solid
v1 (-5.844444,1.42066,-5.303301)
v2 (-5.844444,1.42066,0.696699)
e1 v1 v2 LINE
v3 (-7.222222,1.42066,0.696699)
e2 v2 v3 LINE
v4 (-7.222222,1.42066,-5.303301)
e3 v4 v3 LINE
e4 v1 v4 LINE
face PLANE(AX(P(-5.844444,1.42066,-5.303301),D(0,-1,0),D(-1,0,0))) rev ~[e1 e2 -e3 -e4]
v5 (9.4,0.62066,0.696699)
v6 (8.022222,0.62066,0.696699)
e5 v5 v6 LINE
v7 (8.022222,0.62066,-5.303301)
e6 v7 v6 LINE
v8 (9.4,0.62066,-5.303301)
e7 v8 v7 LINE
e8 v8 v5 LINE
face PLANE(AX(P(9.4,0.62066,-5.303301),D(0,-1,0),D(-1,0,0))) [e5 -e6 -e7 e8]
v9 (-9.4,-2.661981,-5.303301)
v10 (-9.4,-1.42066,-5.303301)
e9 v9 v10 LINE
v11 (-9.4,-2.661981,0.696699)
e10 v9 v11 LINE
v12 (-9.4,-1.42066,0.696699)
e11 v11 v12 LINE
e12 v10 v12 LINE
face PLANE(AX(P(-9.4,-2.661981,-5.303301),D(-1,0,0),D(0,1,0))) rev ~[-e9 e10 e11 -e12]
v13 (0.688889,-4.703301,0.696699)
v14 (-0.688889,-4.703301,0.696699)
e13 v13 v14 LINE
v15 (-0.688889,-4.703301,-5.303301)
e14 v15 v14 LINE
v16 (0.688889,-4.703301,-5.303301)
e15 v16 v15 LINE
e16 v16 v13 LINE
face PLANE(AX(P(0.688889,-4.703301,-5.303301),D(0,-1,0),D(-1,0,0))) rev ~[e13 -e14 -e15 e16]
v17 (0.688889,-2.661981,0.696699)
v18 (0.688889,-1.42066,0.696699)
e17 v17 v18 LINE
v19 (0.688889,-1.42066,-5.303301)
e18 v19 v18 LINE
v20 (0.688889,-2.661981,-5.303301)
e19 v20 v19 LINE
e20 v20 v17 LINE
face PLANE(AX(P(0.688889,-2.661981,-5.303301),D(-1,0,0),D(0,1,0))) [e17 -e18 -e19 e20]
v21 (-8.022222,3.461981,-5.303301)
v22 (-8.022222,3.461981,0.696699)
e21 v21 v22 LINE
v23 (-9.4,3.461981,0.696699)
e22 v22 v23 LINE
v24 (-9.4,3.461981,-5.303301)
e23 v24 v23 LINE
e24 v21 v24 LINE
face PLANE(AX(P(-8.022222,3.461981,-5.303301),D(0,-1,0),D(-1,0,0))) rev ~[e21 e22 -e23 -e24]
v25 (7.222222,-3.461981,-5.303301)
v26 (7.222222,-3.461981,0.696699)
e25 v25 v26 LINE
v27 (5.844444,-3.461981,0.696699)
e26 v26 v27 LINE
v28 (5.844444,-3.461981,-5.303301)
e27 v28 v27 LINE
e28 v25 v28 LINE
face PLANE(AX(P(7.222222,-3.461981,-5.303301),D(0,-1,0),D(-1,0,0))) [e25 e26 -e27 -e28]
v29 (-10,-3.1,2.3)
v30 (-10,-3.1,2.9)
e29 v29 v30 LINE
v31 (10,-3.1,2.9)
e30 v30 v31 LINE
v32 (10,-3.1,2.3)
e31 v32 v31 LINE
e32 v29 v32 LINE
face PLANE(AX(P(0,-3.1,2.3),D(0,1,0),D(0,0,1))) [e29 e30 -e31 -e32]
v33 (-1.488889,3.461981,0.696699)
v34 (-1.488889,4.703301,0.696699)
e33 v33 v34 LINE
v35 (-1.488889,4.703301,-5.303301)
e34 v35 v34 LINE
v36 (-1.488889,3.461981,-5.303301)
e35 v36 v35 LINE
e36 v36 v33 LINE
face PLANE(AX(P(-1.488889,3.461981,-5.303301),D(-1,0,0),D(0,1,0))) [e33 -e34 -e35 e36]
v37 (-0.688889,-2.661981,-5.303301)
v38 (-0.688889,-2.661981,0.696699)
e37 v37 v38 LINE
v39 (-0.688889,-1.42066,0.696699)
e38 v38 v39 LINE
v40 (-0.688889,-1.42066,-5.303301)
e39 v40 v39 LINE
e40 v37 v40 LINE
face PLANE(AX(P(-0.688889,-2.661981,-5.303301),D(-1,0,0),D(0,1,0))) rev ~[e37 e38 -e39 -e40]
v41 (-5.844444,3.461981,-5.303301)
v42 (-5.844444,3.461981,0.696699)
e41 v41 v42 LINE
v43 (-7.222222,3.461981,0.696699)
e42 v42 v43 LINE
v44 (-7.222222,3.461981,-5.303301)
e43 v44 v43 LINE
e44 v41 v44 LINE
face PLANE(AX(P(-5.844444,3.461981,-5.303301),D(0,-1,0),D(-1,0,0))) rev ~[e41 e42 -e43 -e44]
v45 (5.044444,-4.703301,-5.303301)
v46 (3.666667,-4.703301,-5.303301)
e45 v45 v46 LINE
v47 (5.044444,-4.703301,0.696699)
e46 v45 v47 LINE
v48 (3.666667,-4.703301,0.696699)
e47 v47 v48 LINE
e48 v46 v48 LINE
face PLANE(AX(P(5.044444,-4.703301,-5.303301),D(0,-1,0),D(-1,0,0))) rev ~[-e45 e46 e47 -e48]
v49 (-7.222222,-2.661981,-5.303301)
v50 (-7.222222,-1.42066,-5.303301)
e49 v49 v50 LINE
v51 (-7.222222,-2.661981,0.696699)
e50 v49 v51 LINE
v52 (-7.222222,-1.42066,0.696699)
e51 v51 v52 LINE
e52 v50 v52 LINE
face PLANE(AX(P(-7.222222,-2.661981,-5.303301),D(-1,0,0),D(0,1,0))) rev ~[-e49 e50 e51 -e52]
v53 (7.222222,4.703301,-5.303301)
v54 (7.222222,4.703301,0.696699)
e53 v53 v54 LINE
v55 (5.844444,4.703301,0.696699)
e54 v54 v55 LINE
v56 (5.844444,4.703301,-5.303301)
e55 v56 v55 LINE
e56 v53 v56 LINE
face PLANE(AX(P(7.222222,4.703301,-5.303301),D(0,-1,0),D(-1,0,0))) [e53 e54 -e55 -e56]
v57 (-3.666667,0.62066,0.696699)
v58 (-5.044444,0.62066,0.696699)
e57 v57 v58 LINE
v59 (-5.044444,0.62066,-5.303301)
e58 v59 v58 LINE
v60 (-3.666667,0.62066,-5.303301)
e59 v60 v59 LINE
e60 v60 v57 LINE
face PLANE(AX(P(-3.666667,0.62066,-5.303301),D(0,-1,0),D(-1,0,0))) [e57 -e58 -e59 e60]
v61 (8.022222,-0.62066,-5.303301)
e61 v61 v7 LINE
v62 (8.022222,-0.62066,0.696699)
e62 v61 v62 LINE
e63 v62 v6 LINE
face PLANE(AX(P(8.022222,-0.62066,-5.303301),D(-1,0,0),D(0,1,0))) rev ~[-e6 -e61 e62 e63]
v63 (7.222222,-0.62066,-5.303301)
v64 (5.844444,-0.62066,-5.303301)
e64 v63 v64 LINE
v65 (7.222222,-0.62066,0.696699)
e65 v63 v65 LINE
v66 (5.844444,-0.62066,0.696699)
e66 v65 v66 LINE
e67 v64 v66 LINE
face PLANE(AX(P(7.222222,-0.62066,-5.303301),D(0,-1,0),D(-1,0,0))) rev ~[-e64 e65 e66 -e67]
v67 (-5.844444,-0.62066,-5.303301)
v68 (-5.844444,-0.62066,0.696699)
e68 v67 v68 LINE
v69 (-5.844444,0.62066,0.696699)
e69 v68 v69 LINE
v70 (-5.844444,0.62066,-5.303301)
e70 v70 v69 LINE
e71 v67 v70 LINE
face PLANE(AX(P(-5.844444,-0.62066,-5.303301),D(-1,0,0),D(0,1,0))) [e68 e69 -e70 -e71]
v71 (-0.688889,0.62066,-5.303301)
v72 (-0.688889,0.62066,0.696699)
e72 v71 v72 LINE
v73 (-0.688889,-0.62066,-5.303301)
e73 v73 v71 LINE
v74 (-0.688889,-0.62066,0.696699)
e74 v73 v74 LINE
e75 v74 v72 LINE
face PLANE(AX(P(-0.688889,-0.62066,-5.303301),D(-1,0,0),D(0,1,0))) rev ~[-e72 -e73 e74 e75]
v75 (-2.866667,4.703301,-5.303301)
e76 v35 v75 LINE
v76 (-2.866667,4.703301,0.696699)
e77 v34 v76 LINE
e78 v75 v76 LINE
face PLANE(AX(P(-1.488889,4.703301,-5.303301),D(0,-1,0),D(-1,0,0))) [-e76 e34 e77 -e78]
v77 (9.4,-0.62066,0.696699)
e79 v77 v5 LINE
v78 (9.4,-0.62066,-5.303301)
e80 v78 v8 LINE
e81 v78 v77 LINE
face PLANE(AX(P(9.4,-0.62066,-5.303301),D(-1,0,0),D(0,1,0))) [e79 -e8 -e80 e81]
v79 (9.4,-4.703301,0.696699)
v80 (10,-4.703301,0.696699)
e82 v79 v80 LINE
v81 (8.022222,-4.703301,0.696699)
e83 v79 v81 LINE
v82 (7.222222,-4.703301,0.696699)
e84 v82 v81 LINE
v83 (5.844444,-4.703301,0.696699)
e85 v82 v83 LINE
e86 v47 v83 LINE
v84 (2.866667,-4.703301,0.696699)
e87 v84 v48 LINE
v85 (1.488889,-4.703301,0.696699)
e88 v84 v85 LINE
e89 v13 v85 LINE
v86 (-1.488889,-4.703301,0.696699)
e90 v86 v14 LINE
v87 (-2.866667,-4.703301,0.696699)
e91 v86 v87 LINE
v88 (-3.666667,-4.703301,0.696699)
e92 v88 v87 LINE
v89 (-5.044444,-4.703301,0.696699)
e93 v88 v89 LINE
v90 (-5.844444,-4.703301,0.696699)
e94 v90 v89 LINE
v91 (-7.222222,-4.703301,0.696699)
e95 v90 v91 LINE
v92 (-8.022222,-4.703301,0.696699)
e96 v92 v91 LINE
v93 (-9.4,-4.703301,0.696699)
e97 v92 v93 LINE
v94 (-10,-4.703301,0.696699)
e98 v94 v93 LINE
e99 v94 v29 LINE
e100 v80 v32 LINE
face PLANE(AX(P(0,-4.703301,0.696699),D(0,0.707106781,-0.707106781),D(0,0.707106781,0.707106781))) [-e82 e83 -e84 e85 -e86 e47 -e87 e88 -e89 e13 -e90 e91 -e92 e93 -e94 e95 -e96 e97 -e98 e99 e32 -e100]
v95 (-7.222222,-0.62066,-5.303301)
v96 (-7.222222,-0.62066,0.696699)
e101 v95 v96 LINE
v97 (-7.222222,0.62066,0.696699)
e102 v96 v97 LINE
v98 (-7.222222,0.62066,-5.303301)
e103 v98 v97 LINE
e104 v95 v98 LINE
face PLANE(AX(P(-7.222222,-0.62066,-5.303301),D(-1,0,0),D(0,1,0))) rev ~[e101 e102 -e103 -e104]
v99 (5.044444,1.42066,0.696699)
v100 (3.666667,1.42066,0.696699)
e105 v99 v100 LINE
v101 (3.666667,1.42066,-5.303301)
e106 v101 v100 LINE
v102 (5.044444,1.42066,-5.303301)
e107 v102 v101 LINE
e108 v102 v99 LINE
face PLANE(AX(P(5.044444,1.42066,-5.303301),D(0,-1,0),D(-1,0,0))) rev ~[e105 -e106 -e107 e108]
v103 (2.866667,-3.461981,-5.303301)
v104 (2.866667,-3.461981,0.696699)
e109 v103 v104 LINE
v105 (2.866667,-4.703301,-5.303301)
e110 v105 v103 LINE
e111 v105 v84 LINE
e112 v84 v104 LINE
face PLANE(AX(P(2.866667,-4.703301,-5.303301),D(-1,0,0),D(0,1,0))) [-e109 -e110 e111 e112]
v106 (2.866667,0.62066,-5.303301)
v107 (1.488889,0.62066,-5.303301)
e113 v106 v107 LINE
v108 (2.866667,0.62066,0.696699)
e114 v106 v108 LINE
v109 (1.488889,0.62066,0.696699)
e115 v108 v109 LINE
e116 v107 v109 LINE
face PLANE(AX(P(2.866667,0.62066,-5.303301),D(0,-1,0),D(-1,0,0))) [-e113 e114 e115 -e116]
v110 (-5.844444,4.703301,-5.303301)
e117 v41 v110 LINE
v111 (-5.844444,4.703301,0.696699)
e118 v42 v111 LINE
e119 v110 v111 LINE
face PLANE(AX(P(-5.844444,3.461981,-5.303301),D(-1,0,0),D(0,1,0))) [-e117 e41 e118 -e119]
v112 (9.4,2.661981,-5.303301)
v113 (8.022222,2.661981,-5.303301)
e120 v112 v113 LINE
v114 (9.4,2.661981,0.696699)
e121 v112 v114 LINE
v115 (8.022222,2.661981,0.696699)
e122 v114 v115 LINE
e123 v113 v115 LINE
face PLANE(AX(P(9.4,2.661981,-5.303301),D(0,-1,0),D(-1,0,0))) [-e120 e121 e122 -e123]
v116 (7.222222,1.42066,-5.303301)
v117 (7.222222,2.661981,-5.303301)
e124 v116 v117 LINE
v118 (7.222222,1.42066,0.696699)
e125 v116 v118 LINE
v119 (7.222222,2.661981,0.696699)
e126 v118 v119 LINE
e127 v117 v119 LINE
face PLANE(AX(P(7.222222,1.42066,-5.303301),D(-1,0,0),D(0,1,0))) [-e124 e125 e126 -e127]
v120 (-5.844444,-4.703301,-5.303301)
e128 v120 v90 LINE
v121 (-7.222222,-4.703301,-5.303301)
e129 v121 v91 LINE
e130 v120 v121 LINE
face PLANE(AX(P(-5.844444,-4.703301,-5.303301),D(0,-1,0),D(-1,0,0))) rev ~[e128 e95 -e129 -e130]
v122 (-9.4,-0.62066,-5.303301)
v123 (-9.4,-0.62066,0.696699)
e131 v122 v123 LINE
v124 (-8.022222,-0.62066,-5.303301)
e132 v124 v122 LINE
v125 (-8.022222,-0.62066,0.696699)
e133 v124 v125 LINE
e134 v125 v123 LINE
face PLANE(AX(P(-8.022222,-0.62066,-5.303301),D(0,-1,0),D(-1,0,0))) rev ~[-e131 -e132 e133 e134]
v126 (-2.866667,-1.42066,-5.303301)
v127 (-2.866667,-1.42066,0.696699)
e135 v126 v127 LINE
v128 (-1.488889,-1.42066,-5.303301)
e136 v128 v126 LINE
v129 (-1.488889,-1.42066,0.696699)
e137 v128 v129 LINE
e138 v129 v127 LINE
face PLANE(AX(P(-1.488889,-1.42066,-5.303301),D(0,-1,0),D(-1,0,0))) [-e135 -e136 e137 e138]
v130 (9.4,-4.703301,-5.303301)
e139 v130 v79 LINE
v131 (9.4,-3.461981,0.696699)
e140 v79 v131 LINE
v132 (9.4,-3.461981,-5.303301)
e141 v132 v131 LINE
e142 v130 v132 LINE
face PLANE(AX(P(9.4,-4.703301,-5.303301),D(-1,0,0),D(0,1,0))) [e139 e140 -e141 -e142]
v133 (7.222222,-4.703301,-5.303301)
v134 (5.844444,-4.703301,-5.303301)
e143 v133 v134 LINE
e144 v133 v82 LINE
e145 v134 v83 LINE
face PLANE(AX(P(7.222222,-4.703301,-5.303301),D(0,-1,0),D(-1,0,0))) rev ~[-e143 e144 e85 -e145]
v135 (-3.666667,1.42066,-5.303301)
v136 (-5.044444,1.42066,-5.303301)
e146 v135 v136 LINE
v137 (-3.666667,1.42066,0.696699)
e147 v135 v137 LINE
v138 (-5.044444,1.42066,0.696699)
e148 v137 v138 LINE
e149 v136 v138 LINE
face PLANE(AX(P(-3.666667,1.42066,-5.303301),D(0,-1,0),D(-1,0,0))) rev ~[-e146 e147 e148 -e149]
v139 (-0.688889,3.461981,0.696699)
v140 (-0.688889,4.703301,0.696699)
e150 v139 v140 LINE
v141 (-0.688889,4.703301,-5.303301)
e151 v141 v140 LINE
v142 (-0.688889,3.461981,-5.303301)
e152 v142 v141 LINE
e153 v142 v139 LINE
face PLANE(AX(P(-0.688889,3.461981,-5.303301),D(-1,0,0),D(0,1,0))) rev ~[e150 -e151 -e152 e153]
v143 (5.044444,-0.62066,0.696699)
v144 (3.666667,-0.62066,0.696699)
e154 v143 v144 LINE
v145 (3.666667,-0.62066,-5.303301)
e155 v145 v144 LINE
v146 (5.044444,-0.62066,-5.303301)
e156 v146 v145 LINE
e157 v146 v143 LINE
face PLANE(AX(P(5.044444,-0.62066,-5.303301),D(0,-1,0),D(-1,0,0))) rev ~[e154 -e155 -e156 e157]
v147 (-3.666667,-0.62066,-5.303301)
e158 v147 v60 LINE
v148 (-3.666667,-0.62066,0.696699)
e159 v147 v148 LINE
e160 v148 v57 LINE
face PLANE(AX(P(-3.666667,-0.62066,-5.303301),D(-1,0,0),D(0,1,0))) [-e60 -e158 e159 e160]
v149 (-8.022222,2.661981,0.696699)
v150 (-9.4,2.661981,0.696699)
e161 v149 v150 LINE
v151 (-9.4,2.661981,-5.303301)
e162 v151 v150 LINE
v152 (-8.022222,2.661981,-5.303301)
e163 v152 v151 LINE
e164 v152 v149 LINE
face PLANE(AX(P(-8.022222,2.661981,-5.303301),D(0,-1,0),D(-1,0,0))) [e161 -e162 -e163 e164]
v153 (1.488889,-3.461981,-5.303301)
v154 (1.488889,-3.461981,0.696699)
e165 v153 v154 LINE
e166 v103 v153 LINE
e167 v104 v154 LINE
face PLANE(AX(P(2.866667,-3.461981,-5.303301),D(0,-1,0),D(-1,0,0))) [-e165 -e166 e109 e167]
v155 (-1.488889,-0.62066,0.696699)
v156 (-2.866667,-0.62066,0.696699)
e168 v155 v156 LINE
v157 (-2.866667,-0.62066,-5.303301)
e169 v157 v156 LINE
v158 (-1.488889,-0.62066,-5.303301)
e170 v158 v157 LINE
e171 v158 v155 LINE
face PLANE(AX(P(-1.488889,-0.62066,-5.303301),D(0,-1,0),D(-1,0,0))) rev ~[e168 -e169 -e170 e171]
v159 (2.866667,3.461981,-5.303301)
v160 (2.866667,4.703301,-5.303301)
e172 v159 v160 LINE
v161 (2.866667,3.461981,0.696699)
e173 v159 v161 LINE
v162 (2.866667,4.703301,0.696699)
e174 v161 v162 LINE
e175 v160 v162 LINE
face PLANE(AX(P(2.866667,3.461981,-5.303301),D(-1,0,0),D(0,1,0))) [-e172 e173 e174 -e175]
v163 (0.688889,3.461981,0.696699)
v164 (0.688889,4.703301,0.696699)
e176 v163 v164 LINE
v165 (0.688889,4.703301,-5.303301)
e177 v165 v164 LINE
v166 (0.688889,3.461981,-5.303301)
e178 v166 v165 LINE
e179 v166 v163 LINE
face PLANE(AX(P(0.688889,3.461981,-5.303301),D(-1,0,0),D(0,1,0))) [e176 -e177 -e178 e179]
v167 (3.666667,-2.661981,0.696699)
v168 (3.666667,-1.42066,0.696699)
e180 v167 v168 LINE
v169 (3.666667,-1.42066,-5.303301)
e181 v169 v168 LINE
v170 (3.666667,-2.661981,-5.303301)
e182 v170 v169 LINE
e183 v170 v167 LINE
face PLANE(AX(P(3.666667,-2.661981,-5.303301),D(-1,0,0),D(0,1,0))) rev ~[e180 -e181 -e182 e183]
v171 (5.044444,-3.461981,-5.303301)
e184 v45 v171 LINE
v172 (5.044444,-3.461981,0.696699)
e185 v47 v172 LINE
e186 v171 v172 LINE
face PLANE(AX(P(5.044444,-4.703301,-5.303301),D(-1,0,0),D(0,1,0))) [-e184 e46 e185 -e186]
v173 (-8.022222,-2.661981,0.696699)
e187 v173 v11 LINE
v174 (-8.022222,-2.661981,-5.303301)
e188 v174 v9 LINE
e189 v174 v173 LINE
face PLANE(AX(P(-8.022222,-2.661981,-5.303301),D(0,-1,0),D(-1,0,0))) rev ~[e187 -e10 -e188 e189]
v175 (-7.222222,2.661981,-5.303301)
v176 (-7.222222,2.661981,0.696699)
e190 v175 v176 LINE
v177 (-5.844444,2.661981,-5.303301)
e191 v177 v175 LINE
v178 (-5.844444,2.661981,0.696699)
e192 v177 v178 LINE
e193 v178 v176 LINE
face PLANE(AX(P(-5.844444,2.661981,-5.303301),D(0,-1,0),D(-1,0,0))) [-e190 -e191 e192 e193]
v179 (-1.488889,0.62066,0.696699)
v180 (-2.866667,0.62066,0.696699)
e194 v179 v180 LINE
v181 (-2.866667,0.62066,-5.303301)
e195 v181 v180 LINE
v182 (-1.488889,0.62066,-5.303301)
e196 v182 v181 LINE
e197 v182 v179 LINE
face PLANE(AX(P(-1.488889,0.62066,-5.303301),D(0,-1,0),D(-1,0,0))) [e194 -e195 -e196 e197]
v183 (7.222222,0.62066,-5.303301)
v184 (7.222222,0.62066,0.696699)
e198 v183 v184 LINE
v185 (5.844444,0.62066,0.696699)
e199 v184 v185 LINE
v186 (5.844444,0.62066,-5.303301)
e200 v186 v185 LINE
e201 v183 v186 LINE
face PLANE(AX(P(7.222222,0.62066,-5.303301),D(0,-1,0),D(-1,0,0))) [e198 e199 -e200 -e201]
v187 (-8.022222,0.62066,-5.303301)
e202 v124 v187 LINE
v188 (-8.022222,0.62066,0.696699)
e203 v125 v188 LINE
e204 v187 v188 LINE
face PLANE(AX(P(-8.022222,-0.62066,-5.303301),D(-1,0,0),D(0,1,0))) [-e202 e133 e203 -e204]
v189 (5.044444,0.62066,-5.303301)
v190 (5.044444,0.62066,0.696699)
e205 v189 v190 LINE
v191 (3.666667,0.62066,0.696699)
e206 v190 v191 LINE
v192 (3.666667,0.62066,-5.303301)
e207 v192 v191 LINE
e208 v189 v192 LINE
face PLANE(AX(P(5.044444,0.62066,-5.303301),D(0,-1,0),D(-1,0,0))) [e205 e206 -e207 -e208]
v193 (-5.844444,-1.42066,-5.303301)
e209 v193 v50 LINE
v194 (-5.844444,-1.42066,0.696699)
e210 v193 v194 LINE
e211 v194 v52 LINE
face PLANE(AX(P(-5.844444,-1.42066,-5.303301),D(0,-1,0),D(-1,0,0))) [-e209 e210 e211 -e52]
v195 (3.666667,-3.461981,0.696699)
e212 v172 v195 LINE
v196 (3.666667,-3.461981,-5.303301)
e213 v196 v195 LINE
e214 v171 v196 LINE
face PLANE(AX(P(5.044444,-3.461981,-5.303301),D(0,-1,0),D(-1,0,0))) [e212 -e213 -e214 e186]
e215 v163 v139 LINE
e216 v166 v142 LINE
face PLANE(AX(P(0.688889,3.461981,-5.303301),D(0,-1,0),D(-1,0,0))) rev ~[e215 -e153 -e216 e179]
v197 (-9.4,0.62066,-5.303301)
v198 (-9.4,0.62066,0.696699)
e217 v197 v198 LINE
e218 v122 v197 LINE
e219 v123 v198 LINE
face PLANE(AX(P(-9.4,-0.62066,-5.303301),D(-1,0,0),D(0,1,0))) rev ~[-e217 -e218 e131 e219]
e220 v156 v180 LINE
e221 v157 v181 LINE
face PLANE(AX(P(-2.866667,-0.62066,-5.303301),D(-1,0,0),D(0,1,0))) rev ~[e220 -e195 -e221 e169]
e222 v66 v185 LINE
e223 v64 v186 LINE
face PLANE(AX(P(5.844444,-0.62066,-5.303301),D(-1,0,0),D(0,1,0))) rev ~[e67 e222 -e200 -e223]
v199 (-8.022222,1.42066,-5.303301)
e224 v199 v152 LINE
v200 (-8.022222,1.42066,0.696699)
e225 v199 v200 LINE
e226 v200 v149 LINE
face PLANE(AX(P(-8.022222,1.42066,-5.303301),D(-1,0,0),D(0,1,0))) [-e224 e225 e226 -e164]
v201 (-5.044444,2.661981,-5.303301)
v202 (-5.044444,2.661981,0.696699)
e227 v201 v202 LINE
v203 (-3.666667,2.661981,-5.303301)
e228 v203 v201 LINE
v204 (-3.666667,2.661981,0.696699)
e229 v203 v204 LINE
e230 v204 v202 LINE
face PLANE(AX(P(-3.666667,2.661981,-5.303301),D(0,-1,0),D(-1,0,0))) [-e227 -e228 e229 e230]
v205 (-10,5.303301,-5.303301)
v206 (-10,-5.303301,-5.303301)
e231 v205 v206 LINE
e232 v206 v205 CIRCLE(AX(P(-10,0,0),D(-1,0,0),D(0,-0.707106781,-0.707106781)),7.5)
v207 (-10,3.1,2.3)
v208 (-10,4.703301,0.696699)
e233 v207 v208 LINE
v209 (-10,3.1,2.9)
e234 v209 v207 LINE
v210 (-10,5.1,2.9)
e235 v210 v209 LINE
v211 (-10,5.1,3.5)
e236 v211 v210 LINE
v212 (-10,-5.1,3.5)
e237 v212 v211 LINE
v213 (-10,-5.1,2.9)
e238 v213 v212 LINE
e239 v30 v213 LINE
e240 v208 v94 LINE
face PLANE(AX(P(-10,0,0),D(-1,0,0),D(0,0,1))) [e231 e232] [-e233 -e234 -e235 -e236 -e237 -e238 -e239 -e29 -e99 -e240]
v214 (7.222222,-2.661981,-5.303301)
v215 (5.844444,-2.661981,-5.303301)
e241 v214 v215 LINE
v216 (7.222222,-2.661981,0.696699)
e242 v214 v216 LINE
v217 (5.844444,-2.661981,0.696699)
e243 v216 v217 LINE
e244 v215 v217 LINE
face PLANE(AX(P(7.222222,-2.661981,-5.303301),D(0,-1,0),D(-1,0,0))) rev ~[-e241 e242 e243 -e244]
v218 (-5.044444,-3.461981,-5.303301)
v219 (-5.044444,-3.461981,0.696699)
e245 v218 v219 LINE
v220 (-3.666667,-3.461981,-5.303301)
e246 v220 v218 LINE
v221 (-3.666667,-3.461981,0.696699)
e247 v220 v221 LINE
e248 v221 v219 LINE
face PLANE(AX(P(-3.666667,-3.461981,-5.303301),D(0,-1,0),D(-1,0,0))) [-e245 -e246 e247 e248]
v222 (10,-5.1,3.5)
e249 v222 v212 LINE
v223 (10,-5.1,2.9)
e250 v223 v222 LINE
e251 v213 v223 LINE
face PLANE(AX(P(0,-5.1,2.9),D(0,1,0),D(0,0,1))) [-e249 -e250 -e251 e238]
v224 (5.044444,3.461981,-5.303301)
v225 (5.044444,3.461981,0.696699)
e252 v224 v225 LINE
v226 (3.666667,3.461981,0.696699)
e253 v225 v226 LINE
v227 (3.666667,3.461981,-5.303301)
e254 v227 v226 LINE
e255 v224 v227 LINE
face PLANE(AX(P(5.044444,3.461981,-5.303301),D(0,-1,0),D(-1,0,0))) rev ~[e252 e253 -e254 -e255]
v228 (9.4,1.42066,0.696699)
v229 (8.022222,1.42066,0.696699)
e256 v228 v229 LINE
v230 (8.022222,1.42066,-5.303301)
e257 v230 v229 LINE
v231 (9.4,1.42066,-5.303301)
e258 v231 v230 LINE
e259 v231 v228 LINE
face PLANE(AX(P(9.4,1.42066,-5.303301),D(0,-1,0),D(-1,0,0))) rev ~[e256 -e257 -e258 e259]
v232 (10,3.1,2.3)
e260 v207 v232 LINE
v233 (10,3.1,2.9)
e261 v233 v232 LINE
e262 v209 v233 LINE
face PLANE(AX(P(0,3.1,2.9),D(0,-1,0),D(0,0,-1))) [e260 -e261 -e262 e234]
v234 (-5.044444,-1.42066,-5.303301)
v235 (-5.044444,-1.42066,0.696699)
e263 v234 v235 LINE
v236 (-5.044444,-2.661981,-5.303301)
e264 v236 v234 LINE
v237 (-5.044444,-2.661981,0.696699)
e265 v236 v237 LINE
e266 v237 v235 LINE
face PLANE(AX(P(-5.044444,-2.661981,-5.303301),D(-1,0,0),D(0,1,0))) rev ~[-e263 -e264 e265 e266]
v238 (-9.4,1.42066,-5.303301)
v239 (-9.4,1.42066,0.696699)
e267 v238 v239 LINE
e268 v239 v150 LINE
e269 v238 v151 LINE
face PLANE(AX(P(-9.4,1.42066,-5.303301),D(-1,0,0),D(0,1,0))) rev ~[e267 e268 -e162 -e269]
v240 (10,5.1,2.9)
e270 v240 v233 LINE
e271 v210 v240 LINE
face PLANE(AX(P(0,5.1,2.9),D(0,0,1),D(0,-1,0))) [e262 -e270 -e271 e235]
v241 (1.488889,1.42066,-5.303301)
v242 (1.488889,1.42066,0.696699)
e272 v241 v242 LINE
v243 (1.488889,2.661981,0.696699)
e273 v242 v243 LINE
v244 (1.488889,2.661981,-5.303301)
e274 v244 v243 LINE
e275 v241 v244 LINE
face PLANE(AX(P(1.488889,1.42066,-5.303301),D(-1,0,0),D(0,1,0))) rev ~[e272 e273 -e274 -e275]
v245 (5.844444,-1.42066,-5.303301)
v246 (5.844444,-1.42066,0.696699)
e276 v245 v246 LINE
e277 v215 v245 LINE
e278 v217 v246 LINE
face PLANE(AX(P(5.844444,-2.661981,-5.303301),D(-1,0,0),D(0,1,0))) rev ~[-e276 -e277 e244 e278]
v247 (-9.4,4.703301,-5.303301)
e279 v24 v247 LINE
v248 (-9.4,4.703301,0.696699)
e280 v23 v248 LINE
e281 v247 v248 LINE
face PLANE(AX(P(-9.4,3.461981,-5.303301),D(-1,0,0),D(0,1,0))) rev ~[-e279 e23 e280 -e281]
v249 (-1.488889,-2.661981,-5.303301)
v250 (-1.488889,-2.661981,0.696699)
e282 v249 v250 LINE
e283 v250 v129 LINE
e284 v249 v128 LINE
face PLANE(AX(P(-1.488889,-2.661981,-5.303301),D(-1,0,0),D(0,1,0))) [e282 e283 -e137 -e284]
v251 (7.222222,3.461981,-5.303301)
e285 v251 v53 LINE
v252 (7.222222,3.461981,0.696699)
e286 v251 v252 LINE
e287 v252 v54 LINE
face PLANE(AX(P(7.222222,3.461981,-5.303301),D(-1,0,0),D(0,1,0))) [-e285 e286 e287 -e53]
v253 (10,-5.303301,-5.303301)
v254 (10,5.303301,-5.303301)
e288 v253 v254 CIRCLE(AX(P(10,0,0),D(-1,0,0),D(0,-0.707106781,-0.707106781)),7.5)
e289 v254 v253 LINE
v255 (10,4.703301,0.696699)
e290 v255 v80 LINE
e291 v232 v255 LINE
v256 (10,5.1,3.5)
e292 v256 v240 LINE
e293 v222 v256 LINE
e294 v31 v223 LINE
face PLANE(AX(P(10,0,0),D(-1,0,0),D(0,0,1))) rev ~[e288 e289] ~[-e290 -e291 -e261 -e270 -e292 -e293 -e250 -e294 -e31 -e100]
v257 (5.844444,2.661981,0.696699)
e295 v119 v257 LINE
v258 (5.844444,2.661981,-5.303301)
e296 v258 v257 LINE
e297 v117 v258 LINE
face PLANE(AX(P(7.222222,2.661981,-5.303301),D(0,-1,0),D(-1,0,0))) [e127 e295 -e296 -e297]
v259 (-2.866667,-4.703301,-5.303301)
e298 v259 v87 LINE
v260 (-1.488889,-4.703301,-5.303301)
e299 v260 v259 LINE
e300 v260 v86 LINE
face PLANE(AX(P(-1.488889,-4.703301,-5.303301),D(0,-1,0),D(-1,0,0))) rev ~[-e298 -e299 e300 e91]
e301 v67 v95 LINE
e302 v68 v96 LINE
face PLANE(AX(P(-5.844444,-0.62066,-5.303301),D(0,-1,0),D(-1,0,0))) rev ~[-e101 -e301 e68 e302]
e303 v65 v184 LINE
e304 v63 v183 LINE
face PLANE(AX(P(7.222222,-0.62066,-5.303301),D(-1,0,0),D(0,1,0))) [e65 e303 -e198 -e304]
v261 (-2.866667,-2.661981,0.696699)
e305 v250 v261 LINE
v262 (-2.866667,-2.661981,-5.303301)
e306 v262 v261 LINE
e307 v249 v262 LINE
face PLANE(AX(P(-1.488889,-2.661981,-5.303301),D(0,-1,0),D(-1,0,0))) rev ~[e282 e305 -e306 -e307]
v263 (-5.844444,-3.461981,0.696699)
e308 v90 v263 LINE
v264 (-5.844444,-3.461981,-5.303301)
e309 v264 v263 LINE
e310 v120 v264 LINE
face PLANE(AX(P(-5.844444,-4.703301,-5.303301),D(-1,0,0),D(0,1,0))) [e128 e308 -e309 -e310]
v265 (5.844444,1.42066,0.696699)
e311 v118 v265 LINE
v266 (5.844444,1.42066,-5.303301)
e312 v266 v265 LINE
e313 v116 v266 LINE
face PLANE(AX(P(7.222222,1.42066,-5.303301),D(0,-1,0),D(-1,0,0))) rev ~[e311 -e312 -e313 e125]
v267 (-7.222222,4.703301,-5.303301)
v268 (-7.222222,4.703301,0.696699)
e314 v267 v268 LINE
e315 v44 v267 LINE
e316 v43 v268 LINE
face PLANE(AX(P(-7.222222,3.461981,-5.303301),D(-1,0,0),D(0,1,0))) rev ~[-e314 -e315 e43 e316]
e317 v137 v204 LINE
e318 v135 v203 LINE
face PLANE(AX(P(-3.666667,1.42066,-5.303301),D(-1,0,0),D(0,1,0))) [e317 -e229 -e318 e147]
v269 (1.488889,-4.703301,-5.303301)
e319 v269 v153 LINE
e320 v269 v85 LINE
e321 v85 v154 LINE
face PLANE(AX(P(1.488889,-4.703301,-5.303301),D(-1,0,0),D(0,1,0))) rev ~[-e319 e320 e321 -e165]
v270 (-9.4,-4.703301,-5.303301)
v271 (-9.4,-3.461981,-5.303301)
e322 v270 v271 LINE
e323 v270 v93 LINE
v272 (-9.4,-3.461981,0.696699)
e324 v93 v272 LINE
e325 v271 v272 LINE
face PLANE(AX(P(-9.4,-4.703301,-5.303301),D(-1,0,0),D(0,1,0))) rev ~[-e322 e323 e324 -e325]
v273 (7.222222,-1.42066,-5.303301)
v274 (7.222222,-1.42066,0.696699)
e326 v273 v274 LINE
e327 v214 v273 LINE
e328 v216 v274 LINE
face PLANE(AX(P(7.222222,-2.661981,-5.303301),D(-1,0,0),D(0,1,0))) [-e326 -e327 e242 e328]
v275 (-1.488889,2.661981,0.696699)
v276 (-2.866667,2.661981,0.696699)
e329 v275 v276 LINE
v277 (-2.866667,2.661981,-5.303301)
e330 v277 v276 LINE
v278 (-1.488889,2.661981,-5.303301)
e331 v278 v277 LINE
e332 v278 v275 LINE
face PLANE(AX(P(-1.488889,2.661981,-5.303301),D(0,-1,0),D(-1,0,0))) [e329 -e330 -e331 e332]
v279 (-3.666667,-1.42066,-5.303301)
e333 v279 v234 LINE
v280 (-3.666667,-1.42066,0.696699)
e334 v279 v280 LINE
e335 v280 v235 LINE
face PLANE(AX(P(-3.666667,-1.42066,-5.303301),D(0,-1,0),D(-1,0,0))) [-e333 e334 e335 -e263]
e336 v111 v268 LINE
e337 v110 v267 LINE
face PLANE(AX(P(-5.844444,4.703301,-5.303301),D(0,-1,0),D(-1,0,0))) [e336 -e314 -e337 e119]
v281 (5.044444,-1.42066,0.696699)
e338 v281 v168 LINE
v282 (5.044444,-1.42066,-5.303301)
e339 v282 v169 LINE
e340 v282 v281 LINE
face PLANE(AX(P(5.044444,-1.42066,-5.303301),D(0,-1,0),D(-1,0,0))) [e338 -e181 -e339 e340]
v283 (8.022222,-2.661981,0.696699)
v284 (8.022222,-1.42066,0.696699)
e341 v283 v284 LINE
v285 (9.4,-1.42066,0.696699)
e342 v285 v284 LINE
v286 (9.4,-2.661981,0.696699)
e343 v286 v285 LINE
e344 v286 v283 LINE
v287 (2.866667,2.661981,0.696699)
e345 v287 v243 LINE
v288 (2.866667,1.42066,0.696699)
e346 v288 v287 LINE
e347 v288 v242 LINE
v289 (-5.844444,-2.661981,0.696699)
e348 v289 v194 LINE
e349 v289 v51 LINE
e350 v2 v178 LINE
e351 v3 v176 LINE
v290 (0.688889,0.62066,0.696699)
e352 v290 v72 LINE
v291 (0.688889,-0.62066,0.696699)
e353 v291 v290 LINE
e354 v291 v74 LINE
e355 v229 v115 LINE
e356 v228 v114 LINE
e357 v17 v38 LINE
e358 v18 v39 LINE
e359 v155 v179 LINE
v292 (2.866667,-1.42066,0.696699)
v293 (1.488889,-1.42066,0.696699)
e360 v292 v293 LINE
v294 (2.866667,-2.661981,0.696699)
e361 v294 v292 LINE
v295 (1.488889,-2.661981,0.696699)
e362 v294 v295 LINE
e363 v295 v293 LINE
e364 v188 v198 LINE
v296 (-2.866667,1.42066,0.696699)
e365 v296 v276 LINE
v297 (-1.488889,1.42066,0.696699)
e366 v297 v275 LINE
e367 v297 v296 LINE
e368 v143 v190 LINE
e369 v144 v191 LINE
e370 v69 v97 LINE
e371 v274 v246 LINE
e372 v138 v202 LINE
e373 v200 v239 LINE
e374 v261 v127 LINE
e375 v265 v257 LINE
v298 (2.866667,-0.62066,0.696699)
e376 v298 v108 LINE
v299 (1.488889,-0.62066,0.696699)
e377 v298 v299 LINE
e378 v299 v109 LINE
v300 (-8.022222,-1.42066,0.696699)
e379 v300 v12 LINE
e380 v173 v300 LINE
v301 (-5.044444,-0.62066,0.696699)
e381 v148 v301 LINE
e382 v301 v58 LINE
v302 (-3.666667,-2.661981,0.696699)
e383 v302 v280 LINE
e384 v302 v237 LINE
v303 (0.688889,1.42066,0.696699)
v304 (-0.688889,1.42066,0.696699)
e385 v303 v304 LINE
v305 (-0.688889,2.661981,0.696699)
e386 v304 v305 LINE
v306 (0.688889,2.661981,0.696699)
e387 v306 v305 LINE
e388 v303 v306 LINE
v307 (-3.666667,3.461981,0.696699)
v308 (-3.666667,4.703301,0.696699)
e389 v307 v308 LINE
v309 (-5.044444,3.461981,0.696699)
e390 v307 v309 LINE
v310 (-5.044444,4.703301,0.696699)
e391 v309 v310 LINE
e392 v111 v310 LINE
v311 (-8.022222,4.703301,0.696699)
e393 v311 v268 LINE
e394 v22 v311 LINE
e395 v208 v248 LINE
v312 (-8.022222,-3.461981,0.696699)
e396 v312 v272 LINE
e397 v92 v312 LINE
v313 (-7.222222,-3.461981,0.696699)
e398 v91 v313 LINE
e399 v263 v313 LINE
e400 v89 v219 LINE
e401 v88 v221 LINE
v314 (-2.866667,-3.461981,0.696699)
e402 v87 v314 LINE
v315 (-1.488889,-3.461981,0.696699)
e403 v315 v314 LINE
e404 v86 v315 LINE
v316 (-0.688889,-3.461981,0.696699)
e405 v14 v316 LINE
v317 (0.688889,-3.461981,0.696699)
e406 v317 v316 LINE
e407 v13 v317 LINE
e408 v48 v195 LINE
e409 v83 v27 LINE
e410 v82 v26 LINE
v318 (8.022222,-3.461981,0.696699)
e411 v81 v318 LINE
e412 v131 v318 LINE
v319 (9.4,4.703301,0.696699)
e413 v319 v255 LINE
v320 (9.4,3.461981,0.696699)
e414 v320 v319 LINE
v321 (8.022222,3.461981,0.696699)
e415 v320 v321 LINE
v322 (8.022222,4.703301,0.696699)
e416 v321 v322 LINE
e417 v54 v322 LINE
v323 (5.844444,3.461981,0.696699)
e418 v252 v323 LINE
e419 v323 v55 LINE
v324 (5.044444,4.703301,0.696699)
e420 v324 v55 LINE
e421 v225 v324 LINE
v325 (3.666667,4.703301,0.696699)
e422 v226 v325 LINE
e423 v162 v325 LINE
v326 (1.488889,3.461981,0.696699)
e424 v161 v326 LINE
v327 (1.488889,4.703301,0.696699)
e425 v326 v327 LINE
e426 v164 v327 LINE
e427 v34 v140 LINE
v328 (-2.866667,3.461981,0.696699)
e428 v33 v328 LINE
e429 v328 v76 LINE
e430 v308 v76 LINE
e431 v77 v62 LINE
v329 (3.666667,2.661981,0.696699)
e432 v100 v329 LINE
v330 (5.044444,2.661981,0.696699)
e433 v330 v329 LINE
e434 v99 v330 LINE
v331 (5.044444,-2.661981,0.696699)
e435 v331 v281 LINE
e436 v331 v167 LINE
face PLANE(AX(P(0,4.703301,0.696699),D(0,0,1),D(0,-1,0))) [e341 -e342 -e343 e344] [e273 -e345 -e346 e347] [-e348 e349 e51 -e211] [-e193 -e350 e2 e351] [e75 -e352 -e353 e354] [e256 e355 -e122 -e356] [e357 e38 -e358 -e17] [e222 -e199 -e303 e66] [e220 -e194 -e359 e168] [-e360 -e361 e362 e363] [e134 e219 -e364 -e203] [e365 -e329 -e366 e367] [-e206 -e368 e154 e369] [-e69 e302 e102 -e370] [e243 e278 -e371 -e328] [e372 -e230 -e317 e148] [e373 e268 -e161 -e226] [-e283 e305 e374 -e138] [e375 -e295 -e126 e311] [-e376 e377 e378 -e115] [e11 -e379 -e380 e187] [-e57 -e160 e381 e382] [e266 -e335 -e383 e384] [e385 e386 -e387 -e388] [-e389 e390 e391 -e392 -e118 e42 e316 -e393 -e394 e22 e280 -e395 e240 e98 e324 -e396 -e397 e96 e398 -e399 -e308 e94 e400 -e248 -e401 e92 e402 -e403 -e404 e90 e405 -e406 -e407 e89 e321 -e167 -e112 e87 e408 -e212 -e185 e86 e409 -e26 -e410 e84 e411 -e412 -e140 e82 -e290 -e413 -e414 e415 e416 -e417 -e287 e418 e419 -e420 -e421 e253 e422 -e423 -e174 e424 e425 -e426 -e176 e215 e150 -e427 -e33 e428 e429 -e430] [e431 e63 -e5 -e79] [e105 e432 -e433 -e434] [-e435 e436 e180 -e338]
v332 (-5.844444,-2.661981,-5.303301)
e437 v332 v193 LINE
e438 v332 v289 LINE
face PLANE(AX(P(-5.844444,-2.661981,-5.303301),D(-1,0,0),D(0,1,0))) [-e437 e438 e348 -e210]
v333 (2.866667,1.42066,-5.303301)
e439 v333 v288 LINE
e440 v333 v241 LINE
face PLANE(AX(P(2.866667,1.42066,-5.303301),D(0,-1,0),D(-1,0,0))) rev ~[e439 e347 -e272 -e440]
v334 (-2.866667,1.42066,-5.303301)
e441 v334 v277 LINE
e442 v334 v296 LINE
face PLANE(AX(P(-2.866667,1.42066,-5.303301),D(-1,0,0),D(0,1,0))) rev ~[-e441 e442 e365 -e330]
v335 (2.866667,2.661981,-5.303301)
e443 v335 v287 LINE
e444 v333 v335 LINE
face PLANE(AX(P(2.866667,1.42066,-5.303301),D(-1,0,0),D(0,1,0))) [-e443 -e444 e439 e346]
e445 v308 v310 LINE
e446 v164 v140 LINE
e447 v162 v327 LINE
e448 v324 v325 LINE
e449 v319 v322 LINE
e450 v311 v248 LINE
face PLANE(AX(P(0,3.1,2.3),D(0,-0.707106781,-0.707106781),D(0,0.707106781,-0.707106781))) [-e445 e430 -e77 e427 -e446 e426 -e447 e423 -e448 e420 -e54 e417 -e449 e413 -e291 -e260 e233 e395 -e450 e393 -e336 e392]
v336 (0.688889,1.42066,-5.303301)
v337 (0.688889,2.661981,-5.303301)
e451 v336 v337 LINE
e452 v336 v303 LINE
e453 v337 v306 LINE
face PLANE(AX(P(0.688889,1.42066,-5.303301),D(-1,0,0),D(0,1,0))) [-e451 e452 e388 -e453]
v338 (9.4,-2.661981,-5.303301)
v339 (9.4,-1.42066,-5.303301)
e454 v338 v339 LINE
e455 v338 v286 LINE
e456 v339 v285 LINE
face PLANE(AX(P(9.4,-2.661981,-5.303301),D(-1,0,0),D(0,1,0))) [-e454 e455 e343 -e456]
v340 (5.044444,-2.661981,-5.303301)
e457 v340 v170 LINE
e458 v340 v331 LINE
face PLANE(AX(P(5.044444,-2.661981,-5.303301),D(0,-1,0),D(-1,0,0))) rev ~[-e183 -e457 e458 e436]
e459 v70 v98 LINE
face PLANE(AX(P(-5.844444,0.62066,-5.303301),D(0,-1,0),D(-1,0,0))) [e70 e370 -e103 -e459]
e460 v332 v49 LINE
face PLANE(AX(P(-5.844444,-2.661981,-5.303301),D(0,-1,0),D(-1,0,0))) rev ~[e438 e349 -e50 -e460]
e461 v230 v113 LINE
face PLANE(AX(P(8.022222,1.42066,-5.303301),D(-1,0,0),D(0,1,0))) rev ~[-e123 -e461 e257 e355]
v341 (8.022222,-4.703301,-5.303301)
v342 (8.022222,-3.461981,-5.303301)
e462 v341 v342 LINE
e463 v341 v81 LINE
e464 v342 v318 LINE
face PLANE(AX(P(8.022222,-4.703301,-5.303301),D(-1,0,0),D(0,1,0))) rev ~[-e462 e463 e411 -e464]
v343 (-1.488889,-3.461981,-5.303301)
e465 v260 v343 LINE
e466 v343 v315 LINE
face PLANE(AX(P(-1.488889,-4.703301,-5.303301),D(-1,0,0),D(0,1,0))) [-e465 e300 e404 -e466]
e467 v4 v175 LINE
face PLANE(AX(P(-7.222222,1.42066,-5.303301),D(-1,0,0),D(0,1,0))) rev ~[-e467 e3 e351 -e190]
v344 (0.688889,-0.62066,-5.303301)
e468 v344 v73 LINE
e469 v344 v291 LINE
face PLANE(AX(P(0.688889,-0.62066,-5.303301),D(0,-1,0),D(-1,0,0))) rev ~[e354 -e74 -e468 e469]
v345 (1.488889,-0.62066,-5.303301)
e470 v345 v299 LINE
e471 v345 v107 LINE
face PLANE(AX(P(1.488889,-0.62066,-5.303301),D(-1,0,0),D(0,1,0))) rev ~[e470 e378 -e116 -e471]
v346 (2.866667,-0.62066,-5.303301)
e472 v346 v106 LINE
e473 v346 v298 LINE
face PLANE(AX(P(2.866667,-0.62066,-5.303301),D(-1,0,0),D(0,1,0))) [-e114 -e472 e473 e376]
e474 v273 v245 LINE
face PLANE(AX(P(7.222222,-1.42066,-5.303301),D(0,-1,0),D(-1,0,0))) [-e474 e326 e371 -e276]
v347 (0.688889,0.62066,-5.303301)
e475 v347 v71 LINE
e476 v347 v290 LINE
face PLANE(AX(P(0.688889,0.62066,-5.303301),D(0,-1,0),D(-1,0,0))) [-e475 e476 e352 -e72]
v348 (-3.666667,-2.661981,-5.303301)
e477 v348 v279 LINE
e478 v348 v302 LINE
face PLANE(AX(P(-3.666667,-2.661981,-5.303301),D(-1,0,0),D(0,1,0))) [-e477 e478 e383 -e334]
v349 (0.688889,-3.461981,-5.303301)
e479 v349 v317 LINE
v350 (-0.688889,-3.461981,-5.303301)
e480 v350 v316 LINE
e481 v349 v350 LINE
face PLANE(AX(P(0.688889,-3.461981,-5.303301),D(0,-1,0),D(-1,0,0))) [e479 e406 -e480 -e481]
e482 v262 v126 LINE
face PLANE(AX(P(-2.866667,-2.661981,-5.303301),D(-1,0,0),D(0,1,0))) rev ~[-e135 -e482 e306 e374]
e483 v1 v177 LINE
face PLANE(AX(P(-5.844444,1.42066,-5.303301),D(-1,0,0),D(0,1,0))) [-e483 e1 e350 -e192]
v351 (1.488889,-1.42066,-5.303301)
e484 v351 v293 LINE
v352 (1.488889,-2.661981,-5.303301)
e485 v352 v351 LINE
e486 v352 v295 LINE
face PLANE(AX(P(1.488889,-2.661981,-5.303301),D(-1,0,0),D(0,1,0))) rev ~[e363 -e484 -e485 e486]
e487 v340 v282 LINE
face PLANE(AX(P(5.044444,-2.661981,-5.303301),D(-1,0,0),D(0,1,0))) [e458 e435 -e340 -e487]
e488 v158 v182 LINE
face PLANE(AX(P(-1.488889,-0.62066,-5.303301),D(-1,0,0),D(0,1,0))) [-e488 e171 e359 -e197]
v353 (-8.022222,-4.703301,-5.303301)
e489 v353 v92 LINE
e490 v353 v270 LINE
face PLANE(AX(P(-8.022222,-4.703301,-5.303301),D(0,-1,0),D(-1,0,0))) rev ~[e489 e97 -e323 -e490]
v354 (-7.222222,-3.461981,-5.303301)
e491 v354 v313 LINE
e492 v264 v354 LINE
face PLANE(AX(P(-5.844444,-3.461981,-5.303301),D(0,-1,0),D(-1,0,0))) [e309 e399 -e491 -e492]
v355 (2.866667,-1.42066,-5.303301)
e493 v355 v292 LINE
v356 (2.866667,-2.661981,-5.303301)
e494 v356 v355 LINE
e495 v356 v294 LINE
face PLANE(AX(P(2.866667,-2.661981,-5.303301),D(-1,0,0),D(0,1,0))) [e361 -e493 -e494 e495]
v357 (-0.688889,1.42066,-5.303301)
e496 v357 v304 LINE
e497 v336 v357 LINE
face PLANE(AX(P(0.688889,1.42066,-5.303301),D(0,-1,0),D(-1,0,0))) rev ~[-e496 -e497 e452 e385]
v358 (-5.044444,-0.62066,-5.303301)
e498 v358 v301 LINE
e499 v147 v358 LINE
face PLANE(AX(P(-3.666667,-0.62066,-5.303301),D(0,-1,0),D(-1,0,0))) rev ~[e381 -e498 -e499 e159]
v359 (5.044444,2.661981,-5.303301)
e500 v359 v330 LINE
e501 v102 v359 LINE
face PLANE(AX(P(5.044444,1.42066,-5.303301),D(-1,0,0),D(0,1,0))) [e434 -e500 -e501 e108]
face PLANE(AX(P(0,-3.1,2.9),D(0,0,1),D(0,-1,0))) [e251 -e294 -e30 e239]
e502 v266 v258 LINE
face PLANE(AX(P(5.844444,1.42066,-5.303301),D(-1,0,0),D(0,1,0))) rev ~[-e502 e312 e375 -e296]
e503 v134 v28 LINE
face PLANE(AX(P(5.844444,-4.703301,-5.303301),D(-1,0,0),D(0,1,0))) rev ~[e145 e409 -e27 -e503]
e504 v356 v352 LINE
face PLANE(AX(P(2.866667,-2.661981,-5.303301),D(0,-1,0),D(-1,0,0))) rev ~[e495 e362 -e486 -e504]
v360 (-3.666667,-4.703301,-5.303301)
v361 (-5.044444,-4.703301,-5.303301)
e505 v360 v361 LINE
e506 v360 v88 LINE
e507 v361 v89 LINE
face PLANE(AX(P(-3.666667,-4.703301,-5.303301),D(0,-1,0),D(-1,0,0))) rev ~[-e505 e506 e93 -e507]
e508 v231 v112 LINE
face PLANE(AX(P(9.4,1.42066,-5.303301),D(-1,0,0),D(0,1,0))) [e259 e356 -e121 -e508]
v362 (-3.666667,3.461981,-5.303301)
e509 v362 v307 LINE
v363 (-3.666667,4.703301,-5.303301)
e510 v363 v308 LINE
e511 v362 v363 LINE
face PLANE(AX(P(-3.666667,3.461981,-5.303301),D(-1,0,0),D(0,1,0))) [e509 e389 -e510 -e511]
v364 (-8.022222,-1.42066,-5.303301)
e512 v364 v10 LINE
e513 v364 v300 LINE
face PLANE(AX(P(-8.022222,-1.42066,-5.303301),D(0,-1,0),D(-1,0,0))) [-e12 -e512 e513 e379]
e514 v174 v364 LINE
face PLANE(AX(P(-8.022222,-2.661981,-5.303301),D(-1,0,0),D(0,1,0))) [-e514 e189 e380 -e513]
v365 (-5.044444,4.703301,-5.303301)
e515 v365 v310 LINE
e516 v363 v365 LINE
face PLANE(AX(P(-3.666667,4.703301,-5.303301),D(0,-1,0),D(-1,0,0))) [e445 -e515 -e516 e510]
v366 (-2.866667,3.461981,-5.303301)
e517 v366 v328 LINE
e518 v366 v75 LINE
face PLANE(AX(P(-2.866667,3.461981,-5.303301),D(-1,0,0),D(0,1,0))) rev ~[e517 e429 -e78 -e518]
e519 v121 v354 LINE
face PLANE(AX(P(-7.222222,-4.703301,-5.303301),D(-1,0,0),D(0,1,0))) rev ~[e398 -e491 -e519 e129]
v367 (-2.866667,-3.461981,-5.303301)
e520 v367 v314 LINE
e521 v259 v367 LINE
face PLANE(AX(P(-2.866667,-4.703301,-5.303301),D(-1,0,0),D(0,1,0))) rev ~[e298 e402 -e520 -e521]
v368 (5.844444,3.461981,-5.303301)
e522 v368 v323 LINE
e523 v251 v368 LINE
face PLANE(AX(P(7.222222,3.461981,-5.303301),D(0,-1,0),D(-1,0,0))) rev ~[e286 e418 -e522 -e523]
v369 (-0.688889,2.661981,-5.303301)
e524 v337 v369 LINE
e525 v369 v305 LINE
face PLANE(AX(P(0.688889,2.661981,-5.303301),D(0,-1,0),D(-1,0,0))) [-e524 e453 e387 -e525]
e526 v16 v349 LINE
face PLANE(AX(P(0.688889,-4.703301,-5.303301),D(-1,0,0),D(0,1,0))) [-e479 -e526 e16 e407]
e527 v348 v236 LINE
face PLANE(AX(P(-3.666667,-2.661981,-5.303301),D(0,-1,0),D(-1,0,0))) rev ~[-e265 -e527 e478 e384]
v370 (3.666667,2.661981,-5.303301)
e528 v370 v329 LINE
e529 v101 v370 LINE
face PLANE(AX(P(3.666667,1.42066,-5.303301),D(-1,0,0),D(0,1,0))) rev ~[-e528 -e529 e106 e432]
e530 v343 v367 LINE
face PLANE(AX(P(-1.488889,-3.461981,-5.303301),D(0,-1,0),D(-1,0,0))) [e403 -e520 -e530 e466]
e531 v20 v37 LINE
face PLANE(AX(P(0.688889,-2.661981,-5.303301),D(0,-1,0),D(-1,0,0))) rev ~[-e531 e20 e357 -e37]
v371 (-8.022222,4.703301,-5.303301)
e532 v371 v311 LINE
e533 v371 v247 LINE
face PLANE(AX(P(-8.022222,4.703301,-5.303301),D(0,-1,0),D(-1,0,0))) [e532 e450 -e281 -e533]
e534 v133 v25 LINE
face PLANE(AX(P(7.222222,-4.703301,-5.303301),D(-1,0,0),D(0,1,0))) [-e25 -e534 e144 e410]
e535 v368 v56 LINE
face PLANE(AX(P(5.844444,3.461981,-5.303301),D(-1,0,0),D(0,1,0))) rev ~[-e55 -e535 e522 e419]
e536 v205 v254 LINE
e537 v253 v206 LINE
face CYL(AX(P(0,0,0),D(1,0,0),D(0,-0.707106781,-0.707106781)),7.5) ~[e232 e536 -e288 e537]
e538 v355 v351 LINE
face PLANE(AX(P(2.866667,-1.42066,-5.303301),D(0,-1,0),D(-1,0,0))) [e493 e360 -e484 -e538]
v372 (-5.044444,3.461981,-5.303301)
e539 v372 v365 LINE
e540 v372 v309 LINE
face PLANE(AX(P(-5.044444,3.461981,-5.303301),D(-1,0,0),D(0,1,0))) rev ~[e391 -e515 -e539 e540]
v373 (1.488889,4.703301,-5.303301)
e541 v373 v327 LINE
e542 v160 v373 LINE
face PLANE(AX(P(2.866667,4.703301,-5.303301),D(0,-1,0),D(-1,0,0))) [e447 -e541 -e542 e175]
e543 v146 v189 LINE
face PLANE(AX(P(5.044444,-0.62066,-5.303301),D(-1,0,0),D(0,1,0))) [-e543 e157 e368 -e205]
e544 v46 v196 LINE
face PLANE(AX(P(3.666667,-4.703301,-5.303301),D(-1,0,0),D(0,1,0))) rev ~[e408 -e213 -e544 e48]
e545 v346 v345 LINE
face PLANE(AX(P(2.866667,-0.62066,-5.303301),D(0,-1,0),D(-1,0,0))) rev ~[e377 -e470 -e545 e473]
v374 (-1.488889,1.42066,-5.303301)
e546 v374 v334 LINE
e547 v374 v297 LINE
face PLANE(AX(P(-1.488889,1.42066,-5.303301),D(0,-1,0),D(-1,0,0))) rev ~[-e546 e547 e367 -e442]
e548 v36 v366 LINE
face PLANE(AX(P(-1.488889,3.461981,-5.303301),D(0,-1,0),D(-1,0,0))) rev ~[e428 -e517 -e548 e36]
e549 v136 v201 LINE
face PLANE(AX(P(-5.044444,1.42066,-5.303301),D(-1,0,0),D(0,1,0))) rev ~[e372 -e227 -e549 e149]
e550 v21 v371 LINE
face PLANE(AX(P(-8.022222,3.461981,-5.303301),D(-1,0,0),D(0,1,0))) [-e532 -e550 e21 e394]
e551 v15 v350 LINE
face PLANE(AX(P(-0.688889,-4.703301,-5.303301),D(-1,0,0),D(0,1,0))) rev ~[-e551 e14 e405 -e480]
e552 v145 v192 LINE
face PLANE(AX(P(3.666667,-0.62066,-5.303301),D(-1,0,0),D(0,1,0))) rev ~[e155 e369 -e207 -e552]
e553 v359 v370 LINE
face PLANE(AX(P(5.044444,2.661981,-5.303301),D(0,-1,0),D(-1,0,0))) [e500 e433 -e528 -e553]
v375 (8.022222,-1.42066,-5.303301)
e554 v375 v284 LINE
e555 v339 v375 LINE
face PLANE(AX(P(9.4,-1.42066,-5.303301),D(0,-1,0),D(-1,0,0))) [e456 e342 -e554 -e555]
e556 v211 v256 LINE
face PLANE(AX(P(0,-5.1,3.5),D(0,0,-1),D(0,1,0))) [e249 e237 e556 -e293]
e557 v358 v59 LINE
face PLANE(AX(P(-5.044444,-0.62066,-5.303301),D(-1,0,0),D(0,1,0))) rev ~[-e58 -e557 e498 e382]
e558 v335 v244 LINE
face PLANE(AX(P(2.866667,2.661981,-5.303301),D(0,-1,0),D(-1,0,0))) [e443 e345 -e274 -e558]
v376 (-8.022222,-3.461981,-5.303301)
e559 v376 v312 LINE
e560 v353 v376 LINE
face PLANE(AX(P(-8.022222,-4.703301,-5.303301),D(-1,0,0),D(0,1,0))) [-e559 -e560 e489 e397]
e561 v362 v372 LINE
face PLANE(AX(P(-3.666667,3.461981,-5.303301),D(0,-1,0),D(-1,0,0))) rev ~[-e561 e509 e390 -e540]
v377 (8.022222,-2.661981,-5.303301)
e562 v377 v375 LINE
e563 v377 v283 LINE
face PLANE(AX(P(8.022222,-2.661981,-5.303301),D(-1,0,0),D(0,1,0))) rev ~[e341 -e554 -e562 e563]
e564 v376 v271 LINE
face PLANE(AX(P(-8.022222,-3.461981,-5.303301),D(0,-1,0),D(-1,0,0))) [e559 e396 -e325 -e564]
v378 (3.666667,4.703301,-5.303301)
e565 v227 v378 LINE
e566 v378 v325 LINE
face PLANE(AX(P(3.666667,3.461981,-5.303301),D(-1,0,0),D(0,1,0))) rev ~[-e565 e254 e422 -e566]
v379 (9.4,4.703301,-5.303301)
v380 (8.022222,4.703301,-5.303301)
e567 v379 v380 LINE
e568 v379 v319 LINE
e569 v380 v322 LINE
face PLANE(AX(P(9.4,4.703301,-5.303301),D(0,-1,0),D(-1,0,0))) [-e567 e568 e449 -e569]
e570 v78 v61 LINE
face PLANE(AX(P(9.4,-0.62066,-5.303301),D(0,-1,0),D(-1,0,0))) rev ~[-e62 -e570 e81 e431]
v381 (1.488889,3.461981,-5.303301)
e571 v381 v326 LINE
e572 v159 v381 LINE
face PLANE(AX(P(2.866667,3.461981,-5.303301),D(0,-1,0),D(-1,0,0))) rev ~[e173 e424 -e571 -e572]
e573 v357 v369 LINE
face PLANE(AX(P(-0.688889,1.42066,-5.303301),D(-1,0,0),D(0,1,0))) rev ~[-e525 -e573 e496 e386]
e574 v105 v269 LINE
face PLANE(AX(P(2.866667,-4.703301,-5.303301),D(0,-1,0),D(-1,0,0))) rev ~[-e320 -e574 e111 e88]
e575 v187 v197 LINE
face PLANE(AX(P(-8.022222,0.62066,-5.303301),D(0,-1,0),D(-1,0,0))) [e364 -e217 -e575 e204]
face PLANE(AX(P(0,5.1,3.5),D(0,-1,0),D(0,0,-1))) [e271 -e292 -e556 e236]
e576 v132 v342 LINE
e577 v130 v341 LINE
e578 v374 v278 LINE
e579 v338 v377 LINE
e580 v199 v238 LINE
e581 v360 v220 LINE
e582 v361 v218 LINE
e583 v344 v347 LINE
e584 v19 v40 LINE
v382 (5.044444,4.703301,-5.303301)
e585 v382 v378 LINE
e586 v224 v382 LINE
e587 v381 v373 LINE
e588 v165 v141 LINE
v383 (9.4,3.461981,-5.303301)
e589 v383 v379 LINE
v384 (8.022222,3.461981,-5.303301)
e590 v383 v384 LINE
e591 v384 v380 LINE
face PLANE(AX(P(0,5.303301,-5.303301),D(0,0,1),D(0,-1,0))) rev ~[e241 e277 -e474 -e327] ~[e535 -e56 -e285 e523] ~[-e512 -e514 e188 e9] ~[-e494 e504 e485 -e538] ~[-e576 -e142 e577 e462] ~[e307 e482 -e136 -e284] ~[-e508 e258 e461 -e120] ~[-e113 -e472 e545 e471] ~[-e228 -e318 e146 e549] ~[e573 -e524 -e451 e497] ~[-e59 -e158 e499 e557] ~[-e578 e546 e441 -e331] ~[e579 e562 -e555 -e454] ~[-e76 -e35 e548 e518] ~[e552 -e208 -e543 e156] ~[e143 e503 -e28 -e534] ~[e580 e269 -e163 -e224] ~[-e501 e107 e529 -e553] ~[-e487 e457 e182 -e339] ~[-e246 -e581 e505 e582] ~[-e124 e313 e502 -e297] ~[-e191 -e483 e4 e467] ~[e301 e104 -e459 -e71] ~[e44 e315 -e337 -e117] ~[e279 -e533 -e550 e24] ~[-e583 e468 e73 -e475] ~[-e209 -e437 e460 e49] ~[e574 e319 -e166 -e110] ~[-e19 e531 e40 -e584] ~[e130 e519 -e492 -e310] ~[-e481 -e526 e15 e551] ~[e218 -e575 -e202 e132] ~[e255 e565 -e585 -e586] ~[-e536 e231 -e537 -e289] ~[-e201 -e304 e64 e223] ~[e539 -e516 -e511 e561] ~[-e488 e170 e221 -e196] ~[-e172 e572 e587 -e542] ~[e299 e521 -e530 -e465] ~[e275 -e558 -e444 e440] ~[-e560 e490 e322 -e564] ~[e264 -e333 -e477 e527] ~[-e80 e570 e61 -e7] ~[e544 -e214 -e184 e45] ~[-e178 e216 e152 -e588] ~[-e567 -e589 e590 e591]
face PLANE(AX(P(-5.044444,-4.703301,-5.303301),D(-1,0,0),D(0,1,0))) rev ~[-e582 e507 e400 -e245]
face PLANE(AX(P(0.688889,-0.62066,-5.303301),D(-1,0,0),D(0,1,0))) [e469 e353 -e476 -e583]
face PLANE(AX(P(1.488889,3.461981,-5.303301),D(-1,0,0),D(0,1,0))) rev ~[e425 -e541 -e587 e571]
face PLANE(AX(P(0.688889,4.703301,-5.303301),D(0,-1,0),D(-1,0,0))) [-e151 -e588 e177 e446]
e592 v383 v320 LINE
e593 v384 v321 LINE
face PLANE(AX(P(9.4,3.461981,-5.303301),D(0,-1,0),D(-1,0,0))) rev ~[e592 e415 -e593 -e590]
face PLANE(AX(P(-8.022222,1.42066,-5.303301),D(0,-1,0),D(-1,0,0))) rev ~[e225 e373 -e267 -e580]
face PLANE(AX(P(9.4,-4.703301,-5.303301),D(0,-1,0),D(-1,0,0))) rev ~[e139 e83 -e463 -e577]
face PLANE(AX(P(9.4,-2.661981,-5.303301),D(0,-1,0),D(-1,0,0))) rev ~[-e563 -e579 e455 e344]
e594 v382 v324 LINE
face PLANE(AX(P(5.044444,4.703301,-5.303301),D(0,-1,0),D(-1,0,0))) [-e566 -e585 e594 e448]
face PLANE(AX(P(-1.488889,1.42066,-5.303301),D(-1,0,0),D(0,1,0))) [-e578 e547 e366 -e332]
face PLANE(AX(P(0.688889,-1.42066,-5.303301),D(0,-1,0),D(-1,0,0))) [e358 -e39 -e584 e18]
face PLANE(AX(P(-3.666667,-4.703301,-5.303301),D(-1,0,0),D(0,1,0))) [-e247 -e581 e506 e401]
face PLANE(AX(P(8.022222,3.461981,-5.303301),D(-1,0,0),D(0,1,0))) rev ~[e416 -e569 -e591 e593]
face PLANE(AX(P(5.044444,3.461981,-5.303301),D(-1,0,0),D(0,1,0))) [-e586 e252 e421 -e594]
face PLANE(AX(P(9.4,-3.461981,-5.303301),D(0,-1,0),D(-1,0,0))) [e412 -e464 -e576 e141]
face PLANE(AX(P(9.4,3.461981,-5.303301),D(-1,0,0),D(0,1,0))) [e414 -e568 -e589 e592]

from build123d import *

# Parameters (mm, degrees)
BOSS_EXTRUDE1_DEPTH = 10
SKETCH2_W           = 1.377777778
SKETCH2_H           = 1.241320344
SKETCH2_H_2         = 1.241320343
SKETCH2_W_2         = 1.377777777
CUT_EXTRUDE1_DEPTH  = 6


with BuildPart() as part:
    # Sketch1 → Boss-Extrude1 (new body, symmetric)
    with BuildSketch(Plane(origin=(0, 0, 0), x_dir=(0, 0, -1), z_dir=(1, 0, 0))):
        with BuildLine():
            Line((5.303300859, 5.303300859), (5.303300859, -5.303300859))
            ThreePointArc((5.303300859, -5.303300859), (-7.5, 0), (5.303300859, 5.303300859))
        make_face()
        Polygon((-3.5, -5.1), (-3.5, 5.1), (-2.9, 5.1), (-2.9, 3.1), (-2.3, 3.1), (-0.696699141, 4.703300859), (-0.696699141, -4.703300859), (-2.3, -3.1), (-2.9, -3.1), (-2.9, -5.1), align=None, mode=Mode.SUBTRACT)
    extrude(amount=BOSS_EXTRUDE1_DEPTH, both=True)

    # Sketch2 → Cut-Extrude1 (cut)
    with BuildSketch(Plane(origin=(0, 0, -5.303300859), x_dir=(-1, 0, 0), z_dir=(0, 0, -1))):
        with Locations((-6.533333333, -4.082640687)):
            Rectangle(SKETCH2_W, SKETCH2_H)
        with Locations((-8.711111111, -4.082640687)):
            Rectangle(SKETCH2_W, SKETCH2_H)
        with Locations((-6.533333333, -2.041320344)):
            Rectangle(SKETCH2_W, SKETCH2_H_2)
        with Locations((-6.533333333, 0)):
            Rectangle(SKETCH2_W, SKETCH2_H)
        with Locations((-8.711111111, -2.041320344)):
            Rectangle(SKETCH2_W, SKETCH2_H_2)
        with Locations((-8.711111111, 0)):
            Rectangle(SKETCH2_W, SKETCH2_H)
        with Locations((-4.355555556, -4.082640687)):
            Rectangle(SKETCH2_W_2, SKETCH2_H)
        with Locations((-2.177777778, -4.082640687)):
            Rectangle(SKETCH2_W, SKETCH2_H)
        with Locations((0, -4.082640687)):
            Rectangle(SKETCH2_W, SKETCH2_H)
        with Locations((2.177777778, -4.082640687)):
            Rectangle(SKETCH2_W, SKETCH2_H)
        with Locations((4.355555556, -4.082640687)):
            Rectangle(SKETCH2_W_2, SKETCH2_H)
        with Locations((6.533333333, -4.082640687)):
            Rectangle(SKETCH2_W, SKETCH2_H)
        with Locations((8.711111111, -4.082640687)):
            Rectangle(SKETCH2_W, SKETCH2_H)
        with Locations((-4.355555556, -2.041320344)):
            Rectangle(SKETCH2_W_2, SKETCH2_H_2)
        with Locations((-2.177777778, -2.041320344)):
            Rectangle(SKETCH2_W, SKETCH2_H_2)
        with Locations((0, -2.041320344)):
            Rectangle(SKETCH2_W, SKETCH2_H_2)
        with Locations((2.177777778, -2.041320344)):
            Rectangle(SKETCH2_W, SKETCH2_H_2)
        with Locations((4.355555556, -2.041320344)):
            Rectangle(SKETCH2_W_2, SKETCH2_H_2)
        with Locations((6.533333333, -2.041320344)):
            Rectangle(SKETCH2_W, SKETCH2_H_2)
        with Locations((8.711111111, -2.041320344)):
            Rectangle(SKETCH2_W, SKETCH2_H_2)
        with Locations((-4.355555556, 0)):
            Rectangle(SKETCH2_W_2, SKETCH2_H)
        with Locations((-2.177777778, 0)):
            Rectangle(SKETCH2_W, SKETCH2_H)
        Rectangle(SKETCH2_W, SKETCH2_H)
        with Locations((2.177777778, 0)):
            Rectangle(SKETCH2_W, SKETCH2_H)
        with Locations((4.355555556, 0)):
            Rectangle(SKETCH2_W_2, SKETCH2_H)
        with Locations((6.533333333, 0)):
            Rectangle(SKETCH2_W, SKETCH2_H)
        with Locations((8.711111111, 0)):
            Rectangle(SKETCH2_W, SKETCH2_H)
        with Locations((-8.711111111, 2.041320344)):
            Rectangle(SKETCH2_W, SKETCH2_H_2)
        with Locations((-6.533333333, 2.041320344)):
            Rectangle(SKETCH2_W, SKETCH2_H_2)
        with Locations((-4.355555556, 2.041320344)):
            Rectangle(SKETCH2_W_2, SKETCH2_H_2)
        with Locations((-2.177777778, 2.041320344)):
            Rectangle(SKETCH2_W, SKETCH2_H_2)
        with Locations((0, 2.041320344)):
            Rectangle(SKETCH2_W, SKETCH2_H_2)
        with Locations((2.177777778, 2.041320344)):
            Rectangle(SKETCH2_W, SKETCH2_H_2)
        with Locations((4.355555556, 2.041320344)):
            Rectangle(SKETCH2_W_2, SKETCH2_H_2)
        with Locations((6.533333333, 2.041320344)):
            Rectangle(SKETCH2_W, SKETCH2_H_2)
        with Locations((8.711111111, 2.041320344)):
            Rectangle(SKETCH2_W, SKETCH2_H_2)
        with Locations((-8.711111111, 4.082640687)):
            Rectangle(SKETCH2_W, SKETCH2_H)
        with Locations((-6.533333333, 4.082640687)):
            Rectangle(SKETCH2_W, SKETCH2_H)
        with Locations((-4.355555556, 4.082640687)):
            Rectangle(SKETCH2_W_2, SKETCH2_H)
        with Locations((-2.177777778, 4.082640687)):
            Rectangle(SKETCH2_W, SKETCH2_H)
        with Locations((0, 4.082640687)):
            Rectangle(SKETCH2_W, SKETCH2_H)
        with Locations((2.177777778, 4.082640687)):
            Rectangle(SKETCH2_W, SKETCH2_H)
        with Locations((4.355555556, 4.082640687)):
            Rectangle(SKETCH2_W_2, SKETCH2_H)
        with Locations((6.533333333, 4.082640687)):
            Rectangle(SKETCH2_W, SKETCH2_H)
        with Locations((8.711111111, 4.082640687)):
            Rectangle(SKETCH2_W, SKETCH2_H)
    extrude(amount=-CUT_EXTRUDE1_DEPTH, mode=Mode.SUBTRACT)


solid = part.part
